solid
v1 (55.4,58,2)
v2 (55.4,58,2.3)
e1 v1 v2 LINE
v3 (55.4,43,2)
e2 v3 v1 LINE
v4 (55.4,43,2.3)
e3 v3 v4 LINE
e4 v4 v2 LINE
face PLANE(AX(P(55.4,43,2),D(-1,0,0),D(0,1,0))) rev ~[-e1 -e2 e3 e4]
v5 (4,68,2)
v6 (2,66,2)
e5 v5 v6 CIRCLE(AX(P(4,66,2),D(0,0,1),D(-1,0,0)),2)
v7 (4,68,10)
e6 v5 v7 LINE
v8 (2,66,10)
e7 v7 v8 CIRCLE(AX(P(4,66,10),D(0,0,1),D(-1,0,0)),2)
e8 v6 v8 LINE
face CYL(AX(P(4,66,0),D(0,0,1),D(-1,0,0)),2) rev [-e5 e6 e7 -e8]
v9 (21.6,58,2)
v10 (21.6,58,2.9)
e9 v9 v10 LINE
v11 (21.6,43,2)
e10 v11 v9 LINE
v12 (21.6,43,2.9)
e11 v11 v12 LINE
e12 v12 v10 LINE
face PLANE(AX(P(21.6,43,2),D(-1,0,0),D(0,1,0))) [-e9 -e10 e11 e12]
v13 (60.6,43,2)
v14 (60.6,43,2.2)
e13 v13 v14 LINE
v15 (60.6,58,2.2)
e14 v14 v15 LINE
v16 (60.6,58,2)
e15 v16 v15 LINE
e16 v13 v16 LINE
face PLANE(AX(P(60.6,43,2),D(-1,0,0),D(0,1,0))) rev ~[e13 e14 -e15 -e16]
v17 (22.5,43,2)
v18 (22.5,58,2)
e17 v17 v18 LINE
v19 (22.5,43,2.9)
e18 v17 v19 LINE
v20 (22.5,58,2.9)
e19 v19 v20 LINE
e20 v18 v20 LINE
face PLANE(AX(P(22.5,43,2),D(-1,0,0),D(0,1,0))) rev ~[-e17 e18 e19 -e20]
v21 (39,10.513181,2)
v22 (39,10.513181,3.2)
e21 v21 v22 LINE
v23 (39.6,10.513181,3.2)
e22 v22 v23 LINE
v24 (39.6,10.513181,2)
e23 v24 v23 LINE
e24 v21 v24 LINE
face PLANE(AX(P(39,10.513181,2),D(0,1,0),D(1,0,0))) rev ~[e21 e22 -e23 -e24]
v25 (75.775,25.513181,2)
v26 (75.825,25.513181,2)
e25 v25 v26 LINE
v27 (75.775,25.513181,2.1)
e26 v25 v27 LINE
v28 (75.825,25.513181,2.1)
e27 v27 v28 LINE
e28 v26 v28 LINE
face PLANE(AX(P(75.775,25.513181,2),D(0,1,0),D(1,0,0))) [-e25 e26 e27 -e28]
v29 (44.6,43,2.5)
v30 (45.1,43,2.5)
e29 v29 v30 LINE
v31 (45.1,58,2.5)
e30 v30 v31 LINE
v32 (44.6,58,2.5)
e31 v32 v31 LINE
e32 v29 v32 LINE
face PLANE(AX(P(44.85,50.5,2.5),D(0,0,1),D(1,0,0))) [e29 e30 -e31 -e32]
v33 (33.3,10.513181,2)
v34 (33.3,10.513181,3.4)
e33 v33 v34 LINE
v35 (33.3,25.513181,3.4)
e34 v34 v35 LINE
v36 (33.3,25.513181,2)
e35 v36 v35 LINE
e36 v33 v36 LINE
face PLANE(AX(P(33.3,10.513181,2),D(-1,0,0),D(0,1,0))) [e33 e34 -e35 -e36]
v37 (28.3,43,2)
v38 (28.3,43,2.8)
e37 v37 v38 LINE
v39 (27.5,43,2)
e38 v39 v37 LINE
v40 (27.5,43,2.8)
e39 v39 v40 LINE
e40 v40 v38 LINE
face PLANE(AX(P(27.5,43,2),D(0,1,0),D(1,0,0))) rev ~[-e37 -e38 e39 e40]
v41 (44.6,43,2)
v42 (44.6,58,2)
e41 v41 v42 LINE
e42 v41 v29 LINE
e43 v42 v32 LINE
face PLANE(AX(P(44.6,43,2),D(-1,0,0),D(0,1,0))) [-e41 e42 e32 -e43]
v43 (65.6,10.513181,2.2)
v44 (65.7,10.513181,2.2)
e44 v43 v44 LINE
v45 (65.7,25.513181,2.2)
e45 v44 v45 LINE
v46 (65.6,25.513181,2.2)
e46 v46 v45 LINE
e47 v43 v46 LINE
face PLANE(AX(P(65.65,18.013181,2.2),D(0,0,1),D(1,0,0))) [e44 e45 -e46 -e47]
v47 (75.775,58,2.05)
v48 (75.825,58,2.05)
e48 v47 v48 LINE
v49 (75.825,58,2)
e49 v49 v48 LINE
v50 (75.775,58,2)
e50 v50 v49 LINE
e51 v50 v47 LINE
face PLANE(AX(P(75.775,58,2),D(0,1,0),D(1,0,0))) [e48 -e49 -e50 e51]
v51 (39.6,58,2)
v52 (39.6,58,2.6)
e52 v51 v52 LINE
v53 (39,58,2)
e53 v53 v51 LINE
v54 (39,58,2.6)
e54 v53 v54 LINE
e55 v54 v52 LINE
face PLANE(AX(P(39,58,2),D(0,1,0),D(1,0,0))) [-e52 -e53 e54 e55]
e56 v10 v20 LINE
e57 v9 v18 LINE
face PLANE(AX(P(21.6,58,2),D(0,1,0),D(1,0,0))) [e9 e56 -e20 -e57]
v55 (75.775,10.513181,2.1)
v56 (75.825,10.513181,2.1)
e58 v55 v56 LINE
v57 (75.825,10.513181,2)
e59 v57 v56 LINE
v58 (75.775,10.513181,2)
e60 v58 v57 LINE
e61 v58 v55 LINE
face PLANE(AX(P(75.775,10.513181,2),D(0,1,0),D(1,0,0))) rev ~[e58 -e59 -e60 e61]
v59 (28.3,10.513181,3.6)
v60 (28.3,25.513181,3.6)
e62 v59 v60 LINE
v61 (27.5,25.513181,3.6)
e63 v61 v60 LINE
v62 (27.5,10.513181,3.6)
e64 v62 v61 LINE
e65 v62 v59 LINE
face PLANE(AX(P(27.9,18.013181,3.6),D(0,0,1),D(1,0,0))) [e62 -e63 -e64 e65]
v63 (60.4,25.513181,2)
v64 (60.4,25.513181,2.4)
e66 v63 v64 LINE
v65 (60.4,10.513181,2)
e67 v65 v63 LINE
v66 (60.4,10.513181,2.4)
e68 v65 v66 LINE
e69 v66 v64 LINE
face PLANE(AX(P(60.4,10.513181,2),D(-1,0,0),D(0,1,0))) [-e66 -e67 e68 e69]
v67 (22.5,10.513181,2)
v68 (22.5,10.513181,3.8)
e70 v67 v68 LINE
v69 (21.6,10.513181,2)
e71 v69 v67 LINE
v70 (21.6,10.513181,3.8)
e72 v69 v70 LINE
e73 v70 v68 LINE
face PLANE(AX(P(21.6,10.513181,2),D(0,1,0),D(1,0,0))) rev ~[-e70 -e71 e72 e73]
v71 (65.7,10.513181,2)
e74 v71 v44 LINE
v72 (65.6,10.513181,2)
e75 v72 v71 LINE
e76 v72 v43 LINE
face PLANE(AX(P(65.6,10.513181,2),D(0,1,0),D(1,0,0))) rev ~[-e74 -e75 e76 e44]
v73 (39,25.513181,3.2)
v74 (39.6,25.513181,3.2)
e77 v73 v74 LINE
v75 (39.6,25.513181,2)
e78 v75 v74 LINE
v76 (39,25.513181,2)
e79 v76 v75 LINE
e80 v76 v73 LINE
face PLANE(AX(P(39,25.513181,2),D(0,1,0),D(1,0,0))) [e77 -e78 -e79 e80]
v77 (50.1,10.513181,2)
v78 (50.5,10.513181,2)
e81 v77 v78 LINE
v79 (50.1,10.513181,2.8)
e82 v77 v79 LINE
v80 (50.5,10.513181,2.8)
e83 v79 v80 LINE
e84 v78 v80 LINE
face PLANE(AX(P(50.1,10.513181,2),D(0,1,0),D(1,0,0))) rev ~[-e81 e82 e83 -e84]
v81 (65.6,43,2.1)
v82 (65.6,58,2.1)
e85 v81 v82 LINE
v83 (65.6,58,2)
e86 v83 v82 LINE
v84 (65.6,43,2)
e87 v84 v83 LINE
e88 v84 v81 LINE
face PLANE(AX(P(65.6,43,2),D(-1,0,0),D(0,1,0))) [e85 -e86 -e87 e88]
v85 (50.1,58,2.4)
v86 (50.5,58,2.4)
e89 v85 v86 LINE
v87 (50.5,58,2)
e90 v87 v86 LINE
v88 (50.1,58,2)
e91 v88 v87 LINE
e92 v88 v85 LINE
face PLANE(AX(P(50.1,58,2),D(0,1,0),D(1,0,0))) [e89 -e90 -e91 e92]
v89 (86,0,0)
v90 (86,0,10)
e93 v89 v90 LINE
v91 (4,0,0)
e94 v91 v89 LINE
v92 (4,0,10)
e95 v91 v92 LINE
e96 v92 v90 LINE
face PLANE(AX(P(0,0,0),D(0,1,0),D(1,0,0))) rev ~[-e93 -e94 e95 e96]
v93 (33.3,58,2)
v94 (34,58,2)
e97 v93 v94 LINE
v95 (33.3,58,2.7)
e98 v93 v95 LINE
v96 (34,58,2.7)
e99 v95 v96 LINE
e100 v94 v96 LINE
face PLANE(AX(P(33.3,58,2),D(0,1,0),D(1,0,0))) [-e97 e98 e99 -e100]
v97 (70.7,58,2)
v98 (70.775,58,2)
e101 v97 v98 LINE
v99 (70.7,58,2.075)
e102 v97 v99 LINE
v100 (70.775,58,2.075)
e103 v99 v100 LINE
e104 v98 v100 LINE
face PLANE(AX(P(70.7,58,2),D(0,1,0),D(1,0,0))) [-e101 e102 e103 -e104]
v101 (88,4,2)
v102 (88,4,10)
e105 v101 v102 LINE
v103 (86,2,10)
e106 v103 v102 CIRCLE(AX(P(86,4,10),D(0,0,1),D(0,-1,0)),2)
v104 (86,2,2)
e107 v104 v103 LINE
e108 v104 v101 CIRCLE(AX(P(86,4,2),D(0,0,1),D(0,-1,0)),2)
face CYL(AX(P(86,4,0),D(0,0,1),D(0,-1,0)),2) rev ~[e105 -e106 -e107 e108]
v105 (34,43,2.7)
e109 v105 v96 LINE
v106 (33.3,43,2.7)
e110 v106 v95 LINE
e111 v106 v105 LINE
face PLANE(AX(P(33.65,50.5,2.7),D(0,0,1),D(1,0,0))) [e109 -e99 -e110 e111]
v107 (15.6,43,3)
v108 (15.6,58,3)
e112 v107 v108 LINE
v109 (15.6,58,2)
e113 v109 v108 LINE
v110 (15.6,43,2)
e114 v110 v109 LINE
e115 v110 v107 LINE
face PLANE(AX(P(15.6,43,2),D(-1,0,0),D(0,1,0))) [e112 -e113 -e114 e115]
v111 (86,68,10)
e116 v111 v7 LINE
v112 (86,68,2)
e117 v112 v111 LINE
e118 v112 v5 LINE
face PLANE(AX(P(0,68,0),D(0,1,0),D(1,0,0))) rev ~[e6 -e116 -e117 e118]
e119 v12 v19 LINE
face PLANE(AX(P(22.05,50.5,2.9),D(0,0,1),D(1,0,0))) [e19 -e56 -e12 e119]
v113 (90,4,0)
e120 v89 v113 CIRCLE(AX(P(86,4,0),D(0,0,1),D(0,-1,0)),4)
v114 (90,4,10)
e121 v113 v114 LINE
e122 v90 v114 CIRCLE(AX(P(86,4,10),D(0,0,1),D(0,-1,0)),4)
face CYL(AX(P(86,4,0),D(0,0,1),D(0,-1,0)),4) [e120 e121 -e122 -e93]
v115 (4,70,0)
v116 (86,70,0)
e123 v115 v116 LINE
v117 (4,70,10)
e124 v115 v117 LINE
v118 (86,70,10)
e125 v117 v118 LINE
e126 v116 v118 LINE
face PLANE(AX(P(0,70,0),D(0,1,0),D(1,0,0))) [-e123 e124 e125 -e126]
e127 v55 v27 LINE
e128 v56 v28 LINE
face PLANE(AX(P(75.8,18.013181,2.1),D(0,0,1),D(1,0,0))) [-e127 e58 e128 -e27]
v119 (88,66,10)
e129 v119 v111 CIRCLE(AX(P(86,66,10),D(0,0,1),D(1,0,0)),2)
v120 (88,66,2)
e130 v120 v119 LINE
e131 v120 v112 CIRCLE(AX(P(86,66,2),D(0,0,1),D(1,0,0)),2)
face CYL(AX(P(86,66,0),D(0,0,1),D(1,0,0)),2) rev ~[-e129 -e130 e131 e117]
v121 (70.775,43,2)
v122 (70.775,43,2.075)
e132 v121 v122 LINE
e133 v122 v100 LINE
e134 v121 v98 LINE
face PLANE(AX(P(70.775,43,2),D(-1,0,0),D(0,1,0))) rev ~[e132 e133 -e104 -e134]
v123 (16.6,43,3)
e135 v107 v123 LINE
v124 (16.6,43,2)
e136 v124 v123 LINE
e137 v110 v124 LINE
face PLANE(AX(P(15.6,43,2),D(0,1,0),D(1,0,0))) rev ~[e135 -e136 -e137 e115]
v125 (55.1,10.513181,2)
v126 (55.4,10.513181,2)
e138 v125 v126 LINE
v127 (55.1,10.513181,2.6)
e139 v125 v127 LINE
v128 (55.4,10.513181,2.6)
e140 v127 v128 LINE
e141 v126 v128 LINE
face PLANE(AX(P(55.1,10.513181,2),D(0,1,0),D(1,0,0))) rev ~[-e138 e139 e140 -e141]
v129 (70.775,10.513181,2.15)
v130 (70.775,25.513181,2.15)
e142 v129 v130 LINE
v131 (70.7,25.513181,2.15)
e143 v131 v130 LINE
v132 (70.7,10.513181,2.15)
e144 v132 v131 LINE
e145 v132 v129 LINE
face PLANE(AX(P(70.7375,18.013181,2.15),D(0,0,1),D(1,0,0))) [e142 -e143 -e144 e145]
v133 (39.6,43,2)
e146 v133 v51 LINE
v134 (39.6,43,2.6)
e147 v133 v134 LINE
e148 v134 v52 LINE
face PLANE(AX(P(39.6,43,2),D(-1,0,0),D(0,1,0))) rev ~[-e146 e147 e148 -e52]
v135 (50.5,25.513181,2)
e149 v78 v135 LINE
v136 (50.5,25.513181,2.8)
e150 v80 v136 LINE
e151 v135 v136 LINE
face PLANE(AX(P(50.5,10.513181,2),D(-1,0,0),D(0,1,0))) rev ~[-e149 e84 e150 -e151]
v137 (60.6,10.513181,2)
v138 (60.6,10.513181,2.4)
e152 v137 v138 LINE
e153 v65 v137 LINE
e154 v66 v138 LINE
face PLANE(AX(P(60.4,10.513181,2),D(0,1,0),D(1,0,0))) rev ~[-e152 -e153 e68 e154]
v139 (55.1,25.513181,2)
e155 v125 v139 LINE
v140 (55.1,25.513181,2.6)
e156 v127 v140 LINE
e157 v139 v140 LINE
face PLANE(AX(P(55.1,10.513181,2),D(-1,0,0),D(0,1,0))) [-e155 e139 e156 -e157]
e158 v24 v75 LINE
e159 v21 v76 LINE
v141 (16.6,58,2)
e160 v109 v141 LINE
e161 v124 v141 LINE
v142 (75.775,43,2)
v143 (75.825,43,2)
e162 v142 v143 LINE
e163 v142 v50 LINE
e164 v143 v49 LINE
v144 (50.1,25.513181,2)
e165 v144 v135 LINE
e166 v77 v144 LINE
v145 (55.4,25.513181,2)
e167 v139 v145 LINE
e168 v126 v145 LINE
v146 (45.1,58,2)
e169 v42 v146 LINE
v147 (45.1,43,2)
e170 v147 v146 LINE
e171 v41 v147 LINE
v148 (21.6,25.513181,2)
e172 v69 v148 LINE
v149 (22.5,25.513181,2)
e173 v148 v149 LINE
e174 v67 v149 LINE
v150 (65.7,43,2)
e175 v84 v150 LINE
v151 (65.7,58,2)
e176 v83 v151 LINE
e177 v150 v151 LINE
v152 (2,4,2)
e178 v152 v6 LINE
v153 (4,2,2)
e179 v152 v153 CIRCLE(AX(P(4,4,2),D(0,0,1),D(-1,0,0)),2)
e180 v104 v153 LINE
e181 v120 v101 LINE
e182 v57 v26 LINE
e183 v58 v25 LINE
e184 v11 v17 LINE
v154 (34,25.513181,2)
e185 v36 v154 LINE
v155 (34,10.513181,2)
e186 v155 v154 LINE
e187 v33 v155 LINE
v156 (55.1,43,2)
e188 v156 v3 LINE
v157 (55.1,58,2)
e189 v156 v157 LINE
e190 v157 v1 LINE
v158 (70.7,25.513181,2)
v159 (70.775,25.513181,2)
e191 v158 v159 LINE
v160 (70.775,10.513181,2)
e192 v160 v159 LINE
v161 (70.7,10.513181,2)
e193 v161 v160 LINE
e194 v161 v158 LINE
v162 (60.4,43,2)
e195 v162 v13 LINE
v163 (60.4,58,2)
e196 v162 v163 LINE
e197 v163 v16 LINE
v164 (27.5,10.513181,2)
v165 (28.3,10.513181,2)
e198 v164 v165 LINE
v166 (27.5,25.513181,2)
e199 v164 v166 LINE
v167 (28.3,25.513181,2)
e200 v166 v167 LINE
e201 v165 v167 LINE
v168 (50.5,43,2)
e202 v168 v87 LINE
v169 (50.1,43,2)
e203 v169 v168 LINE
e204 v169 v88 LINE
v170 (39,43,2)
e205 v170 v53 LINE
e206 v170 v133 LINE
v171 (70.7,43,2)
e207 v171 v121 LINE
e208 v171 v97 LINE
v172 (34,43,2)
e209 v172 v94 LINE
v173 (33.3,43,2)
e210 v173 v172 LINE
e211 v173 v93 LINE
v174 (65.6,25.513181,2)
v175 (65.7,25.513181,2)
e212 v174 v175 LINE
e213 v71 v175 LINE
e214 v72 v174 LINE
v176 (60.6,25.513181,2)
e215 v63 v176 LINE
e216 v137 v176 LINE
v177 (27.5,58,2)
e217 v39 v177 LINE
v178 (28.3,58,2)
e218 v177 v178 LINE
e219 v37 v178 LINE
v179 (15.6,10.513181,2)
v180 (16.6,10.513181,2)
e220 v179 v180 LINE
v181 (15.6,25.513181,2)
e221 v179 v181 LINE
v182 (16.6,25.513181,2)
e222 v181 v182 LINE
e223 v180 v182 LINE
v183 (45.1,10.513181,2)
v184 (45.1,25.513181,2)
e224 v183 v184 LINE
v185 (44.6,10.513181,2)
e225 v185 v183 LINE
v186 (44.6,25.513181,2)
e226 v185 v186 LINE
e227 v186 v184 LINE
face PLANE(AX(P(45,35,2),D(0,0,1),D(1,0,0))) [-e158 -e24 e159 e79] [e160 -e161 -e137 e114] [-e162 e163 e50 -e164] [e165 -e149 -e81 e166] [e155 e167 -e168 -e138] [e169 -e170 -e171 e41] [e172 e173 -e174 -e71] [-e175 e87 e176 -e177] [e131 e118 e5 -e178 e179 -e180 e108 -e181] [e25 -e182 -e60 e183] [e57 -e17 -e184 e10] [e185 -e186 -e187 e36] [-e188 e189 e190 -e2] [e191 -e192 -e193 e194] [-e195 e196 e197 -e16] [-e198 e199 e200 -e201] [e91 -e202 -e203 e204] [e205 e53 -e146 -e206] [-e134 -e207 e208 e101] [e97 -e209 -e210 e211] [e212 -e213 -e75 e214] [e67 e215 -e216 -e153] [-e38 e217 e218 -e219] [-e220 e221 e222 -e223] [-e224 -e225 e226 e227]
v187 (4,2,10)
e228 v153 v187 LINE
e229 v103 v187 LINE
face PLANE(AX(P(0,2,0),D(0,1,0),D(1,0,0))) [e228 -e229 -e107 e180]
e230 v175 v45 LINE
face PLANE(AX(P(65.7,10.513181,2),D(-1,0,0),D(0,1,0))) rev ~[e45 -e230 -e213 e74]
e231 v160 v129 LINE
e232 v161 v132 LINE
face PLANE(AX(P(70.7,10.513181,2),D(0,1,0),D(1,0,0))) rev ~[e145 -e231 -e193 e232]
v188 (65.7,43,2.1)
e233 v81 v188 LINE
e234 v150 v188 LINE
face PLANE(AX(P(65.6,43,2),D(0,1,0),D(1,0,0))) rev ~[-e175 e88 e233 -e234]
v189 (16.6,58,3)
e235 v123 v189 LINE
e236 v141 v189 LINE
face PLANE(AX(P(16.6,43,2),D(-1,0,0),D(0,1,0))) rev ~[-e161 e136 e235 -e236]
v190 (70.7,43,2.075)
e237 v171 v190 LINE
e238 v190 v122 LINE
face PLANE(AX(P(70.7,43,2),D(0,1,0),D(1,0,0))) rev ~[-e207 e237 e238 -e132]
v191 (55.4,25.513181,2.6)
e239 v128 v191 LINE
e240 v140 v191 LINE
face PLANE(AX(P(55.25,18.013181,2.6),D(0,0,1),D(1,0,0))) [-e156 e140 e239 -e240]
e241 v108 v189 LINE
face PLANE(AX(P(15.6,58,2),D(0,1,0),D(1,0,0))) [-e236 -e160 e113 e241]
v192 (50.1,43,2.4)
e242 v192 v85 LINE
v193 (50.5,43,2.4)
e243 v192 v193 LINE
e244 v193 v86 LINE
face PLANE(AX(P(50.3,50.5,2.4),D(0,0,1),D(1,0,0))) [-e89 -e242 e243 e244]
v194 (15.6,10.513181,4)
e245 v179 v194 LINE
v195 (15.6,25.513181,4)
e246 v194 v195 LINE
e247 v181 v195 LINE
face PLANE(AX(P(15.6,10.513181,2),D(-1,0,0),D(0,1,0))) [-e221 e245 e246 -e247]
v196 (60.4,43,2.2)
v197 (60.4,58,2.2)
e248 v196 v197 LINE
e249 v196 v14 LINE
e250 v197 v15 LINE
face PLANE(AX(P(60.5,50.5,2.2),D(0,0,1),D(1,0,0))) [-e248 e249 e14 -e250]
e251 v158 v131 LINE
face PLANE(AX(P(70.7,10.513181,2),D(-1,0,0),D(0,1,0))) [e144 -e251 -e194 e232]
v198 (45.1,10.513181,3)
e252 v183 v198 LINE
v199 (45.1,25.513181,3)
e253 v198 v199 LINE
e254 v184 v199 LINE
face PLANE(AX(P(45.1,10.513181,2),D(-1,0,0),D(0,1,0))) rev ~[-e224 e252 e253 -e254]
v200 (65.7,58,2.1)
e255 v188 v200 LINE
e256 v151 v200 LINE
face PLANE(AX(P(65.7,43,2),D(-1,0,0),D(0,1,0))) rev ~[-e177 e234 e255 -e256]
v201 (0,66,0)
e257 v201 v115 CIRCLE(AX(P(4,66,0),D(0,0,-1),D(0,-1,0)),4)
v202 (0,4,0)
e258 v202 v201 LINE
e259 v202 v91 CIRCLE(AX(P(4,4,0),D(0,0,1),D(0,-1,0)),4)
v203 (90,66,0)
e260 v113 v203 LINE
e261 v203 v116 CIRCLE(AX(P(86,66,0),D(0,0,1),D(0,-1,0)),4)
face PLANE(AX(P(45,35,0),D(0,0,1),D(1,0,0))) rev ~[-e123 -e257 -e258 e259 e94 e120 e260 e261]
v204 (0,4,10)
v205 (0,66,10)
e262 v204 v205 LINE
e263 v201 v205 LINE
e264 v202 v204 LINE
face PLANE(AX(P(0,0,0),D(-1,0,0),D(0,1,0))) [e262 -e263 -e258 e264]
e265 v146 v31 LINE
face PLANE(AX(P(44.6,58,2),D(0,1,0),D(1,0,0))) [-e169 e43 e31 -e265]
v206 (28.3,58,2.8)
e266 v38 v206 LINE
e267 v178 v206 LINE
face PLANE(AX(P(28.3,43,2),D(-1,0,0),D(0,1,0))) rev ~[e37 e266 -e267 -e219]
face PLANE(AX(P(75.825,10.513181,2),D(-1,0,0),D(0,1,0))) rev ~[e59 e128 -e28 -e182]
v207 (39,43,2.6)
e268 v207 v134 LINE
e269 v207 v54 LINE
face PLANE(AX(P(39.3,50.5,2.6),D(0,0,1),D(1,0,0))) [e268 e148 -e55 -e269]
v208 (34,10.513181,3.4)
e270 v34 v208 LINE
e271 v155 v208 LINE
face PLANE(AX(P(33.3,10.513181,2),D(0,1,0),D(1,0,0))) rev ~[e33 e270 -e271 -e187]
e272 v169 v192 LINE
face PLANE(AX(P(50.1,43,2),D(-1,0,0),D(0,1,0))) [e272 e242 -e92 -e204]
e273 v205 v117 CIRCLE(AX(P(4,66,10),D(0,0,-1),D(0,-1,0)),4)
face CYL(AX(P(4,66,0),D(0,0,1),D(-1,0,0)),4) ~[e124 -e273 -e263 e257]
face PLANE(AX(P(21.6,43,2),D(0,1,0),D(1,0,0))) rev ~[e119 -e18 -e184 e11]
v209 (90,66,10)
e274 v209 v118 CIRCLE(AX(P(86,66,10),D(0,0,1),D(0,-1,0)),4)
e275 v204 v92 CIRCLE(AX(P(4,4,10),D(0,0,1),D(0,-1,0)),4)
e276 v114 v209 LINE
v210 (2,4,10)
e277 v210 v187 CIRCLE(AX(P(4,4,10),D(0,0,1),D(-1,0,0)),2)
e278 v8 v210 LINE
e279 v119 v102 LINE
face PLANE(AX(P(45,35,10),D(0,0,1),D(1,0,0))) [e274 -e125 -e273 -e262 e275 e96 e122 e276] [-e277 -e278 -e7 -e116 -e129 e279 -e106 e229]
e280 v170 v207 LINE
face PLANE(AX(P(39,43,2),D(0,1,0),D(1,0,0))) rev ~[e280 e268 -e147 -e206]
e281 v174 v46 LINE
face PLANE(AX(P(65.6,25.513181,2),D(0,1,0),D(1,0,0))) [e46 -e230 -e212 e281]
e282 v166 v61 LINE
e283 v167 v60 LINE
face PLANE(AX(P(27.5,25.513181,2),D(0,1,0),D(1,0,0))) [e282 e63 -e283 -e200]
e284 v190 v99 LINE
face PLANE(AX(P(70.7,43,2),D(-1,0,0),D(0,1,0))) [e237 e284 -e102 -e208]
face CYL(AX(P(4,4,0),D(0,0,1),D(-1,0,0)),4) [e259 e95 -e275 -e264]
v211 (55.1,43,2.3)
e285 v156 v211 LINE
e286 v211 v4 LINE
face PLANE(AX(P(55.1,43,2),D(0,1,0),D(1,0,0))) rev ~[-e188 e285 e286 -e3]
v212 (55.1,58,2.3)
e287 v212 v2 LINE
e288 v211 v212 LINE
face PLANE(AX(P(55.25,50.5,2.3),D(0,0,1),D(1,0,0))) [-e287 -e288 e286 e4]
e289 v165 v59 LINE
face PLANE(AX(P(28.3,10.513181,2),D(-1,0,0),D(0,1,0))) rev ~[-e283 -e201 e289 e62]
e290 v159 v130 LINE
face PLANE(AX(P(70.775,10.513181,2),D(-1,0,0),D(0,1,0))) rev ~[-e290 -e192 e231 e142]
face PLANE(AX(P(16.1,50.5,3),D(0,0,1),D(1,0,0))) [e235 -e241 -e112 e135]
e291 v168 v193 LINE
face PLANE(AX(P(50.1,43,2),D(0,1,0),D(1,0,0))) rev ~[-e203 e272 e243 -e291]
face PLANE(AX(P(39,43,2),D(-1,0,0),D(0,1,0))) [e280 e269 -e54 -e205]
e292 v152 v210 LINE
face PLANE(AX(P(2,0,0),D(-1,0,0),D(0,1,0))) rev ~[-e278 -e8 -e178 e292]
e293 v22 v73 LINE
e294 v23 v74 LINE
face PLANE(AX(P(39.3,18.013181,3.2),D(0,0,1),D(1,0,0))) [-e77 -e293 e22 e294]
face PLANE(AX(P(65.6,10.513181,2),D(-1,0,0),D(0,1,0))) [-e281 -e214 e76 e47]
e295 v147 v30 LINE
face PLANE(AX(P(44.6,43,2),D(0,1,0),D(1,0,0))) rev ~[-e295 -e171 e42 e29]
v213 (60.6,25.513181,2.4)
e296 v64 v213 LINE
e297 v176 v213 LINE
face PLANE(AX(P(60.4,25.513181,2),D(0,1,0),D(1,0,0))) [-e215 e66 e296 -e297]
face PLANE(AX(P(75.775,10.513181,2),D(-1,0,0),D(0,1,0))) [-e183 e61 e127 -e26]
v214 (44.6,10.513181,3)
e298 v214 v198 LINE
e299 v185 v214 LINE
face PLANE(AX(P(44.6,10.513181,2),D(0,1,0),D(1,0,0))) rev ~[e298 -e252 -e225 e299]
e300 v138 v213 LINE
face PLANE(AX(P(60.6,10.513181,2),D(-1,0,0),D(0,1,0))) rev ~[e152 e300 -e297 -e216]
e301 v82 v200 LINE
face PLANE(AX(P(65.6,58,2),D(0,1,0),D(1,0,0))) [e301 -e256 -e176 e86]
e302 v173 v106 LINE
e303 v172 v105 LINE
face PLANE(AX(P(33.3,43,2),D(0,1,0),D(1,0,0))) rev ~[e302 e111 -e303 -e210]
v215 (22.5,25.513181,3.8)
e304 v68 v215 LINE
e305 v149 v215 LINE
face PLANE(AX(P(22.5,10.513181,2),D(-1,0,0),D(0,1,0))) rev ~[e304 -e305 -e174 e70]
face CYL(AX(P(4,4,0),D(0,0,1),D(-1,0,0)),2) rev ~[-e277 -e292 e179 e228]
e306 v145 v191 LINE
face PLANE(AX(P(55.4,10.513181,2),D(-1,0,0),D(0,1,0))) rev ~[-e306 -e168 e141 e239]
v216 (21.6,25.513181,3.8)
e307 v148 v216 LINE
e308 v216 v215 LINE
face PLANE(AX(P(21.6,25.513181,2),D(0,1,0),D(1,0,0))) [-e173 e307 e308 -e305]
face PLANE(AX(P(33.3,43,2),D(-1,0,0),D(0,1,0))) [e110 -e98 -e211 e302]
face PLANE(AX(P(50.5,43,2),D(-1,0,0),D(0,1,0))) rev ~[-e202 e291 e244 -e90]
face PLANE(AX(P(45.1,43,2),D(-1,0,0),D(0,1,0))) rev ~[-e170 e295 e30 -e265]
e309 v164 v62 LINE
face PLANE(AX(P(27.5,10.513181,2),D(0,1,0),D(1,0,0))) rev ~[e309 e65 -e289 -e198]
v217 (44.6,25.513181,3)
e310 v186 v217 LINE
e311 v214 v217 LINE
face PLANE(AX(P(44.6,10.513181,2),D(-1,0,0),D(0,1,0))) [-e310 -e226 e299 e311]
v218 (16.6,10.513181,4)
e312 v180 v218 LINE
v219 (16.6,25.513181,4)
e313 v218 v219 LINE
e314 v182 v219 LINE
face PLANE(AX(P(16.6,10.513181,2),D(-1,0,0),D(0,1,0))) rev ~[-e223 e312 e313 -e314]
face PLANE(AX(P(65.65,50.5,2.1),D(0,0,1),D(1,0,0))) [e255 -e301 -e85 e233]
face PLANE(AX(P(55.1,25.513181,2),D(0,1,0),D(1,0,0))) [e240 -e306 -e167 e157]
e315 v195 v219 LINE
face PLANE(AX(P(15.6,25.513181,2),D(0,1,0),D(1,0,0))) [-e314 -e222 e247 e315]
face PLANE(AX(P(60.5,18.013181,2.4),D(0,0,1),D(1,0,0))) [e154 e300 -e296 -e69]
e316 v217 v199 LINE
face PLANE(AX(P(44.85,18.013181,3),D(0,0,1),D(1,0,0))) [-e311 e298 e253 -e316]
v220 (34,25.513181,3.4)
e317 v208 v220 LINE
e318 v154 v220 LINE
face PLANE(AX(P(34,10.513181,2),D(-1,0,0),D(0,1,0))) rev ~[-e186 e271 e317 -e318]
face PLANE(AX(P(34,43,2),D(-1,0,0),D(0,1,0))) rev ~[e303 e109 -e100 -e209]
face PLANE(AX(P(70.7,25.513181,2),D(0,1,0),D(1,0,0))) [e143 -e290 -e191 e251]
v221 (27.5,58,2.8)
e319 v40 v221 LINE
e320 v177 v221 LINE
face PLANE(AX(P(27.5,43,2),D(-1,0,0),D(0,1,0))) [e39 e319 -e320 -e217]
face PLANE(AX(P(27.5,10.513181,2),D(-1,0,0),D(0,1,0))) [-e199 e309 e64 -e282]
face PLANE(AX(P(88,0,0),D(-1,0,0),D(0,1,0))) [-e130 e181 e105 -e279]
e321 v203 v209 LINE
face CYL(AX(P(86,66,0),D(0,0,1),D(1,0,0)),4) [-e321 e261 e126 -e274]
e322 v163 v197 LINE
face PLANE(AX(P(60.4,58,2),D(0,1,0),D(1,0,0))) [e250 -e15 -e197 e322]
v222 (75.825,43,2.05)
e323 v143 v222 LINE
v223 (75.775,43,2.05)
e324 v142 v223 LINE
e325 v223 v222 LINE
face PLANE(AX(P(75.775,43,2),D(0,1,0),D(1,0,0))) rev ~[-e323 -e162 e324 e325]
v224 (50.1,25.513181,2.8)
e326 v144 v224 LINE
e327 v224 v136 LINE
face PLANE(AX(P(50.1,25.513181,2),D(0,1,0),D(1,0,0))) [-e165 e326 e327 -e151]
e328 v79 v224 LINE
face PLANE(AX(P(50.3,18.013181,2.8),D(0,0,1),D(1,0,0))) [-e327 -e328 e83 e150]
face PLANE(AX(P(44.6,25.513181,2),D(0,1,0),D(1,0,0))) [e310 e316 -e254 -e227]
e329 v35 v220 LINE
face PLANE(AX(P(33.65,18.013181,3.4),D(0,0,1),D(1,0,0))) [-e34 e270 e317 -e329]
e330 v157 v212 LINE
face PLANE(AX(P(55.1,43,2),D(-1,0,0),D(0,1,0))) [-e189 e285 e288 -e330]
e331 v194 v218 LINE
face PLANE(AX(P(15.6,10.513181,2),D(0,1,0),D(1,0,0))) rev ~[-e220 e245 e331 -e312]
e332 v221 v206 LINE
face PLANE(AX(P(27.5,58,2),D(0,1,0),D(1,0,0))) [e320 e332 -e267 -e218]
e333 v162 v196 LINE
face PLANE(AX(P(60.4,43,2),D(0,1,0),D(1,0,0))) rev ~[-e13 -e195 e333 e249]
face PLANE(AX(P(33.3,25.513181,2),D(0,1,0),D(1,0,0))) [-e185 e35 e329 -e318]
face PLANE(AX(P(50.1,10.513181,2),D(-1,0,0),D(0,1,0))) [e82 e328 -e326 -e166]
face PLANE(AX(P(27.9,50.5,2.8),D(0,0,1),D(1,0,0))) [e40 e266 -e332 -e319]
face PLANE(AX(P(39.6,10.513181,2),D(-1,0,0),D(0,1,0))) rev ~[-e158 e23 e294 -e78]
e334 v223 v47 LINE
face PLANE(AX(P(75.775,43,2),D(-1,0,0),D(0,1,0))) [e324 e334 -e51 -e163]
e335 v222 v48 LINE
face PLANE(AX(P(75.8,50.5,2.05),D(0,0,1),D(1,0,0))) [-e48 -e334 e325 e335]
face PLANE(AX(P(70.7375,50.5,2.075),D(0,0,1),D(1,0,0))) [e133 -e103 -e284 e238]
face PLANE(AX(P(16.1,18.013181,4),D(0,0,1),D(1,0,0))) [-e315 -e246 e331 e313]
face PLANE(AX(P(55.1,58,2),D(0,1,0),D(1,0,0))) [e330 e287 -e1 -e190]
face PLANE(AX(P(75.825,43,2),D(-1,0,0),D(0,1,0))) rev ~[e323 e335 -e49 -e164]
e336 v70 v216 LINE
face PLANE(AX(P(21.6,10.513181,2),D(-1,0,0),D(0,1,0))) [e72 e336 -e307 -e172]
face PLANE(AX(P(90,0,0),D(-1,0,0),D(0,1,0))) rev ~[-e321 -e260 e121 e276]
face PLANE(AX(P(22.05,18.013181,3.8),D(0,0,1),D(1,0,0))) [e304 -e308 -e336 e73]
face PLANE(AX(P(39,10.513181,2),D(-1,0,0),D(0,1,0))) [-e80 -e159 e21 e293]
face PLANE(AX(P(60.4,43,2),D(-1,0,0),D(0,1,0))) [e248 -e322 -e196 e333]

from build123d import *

# Parameters (mm, degrees)
SKETCH1_W            = 90
SKETCH1_H            = 70
BOSS_EXTRUDE1_DEPTH  = 10
FILLET1_R            = 4
SHELL1_T             = -2
SKETCH2_W            = 1
SKETCH2_H            = 15
BOSS_EXTRUDE2_DEPTH  = 1
SKETCH3_W            = 0.9
SKETCH3_H            = 15
BOSS_EXTRUDE3_DEPTH  = 0.9
SKETCH4_W            = 0.8
SKETCH4_H            = 15
BOSS_EXTRUDE4_DEPTH  = 0.8
SKETCH5_W            = 0.7
SKETCH5_H            = 15
BOSS_EXTRUDE5_DEPTH  = 0.7
SKETCH6_W            = 0.6
SKETCH6_H            = 15
BOSS_EXTRUDE6_DEPTH  = 0.6
SKETCH7_W            = 0.5
SKETCH7_H            = 15
BOSS_EXTRUDE7_DEPTH  = 0.5
SKETCH8_W            = 0.4
SKETCH8_H            = 15
BOSS_EXTRUDE8_DEPTH  = 0.4
SKETCH9_W            = 0.3
SKETCH9_H            = 15
BOSS_EXTRUDE9_DEPTH  = 0.3
SKETCH10_W           = 0.2
SKETCH10_H           = 15
BOSS_EXTRUDE10_DEPTH = 0.2
SKETCH11_W           = 0.1
SKETCH11_H           = 15
BOSS_EXTRUDE11_DEPTH = 0.1
SKETCH12_W           = 0.075
SKETCH12_H           = 15
BOSS_EXTRUDE12_DEPTH = 0.075
SKETCH14_W           = 0.05
SKETCH14_H           = 15
BOSS_EXTRUDE13_DEPTH = 0.05
SKETCH15_W           = 1
SKETCH15_H           = 15
BOSS_EXTRUDE14_DEPTH = 2
SKETCH17_W           = 0.9
SKETCH17_H           = 15
BOSS_EXTRUDE15_DEPTH = 1.8
SKETCH18_W           = 0.8
SKETCH18_H           = 15
BOSS_EXTRUDE16_DEPTH = 1.6
SKETCH19_W           = 0.7
SKETCH19_H           = 15
BOSS_EXTRUDE17_DEPTH = 1.4
SKETCH20_W           = 0.6
SKETCH20_H           = 15
BOSS_EXTRUDE18_DEPTH = 1.2
SKETCH21_W           = 0.5
SKETCH21_H           = 15
BOSS_EXTRUDE19_DEPTH = 1
SKETCH22_W           = 0.4
SKETCH22_H           = 15
BOSS_EXTRUDE20_DEPTH = 0.8
SKETCH23_W           = 0.3
SKETCH23_H           = 15
BOSS_EXTRUDE21_DEPTH = 0.6
SKETCH24_W           = 0.2
SKETCH24_H           = 15
BOSS_EXTRUDE22_DEPTH = 0.4
SKETCH25_W           = 0.1
SKETCH25_H           = 15
BOSS_EXTRUDE23_DEPTH = 0.2
SKETCH27_W           = 0.075
SKETCH27_H           = 15
BOSS_EXTRUDE24_DEPTH = 0.15
SKETCH28_W           = 0.05
SKETCH28_H           = 15
BOSS_EXTRUDE25_DEPTH = 0.1


with BuildPart() as part:
    # Sketch1 → Boss-Extrude1 (new body)
    with BuildSketch(Plane.XY):
        with Locations((45, 35)):
            Rectangle(SKETCH1_W, SKETCH1_H)
    extrude(amount=BOSS_EXTRUDE1_DEPTH)

    # Fillet1
    fillet1_edges = [part.edges().sort_by_distance(p)[0] for p in [
        (0, 70, 5),
        (90, 70, 5),
        (90, 0, 5),
        (0, 0, 5),
    ]]
    fillet(fillet1_edges, radius=FILLET1_R)

    # Shell1
    shell1_openings = [part.faces().sort_by_distance(p)[0] for p in [
        (45, 35, 10),
    ]]
    offset(amount=SHELL1_T, openings=shell1_openings, kind=Kind.INTERSECTION)

    # Sketch2 → Boss-Extrude2 (add)
    with BuildSketch(Plane.XY.offset(2)):
        with Locations((16.1, 50.5)):
            Rectangle(SKETCH2_W, SKETCH2_H)
    extrude(amount=BOSS_EXTRUDE2_DEPTH)

    # Sketch3 → Boss-Extrude3 (add)
    with BuildSketch(Plane.XY.offset(2)):
        with Locations((22.05, 50.5)):
            Rectangle(SKETCH3_W, SKETCH3_H)
    extrude(amount=BOSS_EXTRUDE3_DEPTH)

    # Sketch4 → Boss-Extrude4 (add)
    with BuildSketch(Plane.XY.offset(2)):
        with Locations((27.9, 50.5)):
            Rectangle(SKETCH4_W, SKETCH4_H)
    extrude(amount=BOSS_EXTRUDE4_DEPTH)

    # Sketch5 → Boss-Extrude5 (add)
    with BuildSketch(Plane.XY.offset(2)):
        with Locations((33.65, 50.5)):
            Rectangle(SKETCH5_W, SKETCH5_H)
    extrude(amount=BOSS_EXTRUDE5_DEPTH)

    # Sketch6 → Boss-Extrude6 (add)
    with BuildSketch(Plane.XY.offset(2)):
        with Locations((39.3, 50.5)):
            Rectangle(SKETCH6_W, SKETCH6_H)
    extrude(amount=BOSS_EXTRUDE6_DEPTH)

    # Sketch7 → Boss-Extrude7 (add)
    with BuildSketch(Plane.XY.offset(2)):
        with Locations((44.85, 50.5)):
            Rectangle(SKETCH7_W, SKETCH7_H)
    extrude(amount=BOSS_EXTRUDE7_DEPTH)

    # Sketch8 → Boss-Extrude8 (add)
    with BuildSketch(Plane.XY.offset(2)):
        with Locations((50.3, 50.5)):
            Rectangle(SKETCH8_W, SKETCH8_H)
    extrude(amount=BOSS_EXTRUDE8_DEPTH)

    # Sketch9 → Boss-Extrude9 (add)
    with BuildSketch(Plane.XY.offset(2)):
        with Locations((55.25, 50.5)):
            Rectangle(SKETCH9_W, SKETCH9_H)
    extrude(amount=BOSS_EXTRUDE9_DEPTH)

    # Sketch10 → Boss-Extrude10 (add)
    with BuildSketch(Plane.XY.offset(2)):
        with Locations((60.5, 50.5)):
            Rectangle(SKETCH10_W, SKETCH10_H)
    extrude(amount=BOSS_EXTRUDE10_DEPTH)

    # Sketch11 → Boss-Extrude11 (add)
    with BuildSketch(Plane.XY.offset(2)):
        with Locations((65.65, 50.5)):
            Rectangle(SKETCH11_W, SKETCH11_H)
    extrude(amount=BOSS_EXTRUDE11_DEPTH)

    # Sketch12 → Boss-Extrude12 (add)
    with BuildSketch(Plane.XY.offset(2)):
        with Locations((70.7375, 50.5)):
            Rectangle(SKETCH12_W, SKETCH12_H)
    extrude(amount=BOSS_EXTRUDE12_DEPTH)

    # Sketch14 → Boss-Extrude13 (add)
    with BuildSketch(Plane.XY.offset(2)):
        with Locations((75.8, 50.5)):
            Rectangle(SKETCH14_W, SKETCH14_H)
    extrude(amount=BOSS_EXTRUDE13_DEPTH)

    # Sketch15 → Boss-Extrude14 (add)
    with BuildSketch(Plane.XY.offset(2)):
        with Locations((16.1, 18.013180638)):
            Rectangle(SKETCH15_W, SKETCH15_H)
    extrude(amount=BOSS_EXTRUDE14_DEPTH)

    # Sketch17 → Boss-Extrude15 (add)
    with BuildSketch(Plane.XY.offset(2)):
        with Locations((22.05, 18.013180638)):
            Rectangle(SKETCH17_W, SKETCH17_H)
    extrude(amount=BOSS_EXTRUDE15_DEPTH)

    # Sketch18 → Boss-Extrude16 (add)
    with BuildSketch(Plane.XY.offset(2)):
        with Locations((27.9, 18.013180638)):
            Rectangle(SKETCH18_W, SKETCH18_H)
    extrude(amount=BOSS_EXTRUDE16_DEPTH)

    # Sketch19 → Boss-Extrude17 (add)
    with BuildSketch(Plane.XY.offset(2)):
        with Locations((33.65, 18.013180638)):
            Rectangle(SKETCH19_W, SKETCH19_H)
    extrude(amount=BOSS_EXTRUDE17_DEPTH)

    # Sketch20 → Boss-Extrude18 (add)
    with BuildSketch(Plane.XY.offset(2)):
        with Locations((39.3, 18.013180638)):
            Rectangle(SKETCH20_W, SKETCH20_H)
    extrude(amount=BOSS_EXTRUDE18_DEPTH)

    # Sketch21 → Boss-Extrude19 (add)
    with BuildSketch(Plane.XY.offset(2)):
        with Locations((44.85, 18.013180638)):
            Rectangle(SKETCH21_W, SKETCH21_H)
    extrude(amount=BOSS_EXTRUDE19_DEPTH)

    # Sketch22 → Boss-Extrude20 (add)
    with BuildSketch(Plane.XY.offset(2)):
        with Locations((50.3, 18.013180638)):
            Rectangle(SKETCH22_W, SKETCH22_H)
    extrude(amount=BOSS_EXTRUDE20_DEPTH)

    # Sketch23 → Boss-Extrude21 (add)
    with BuildSketch(Plane.XY.offset(2)):
        with Locations((55.25, 18.013180638)):
            Rectangle(SKETCH23_W, SKETCH23_H)
    extrude(amount=BOSS_EXTRUDE21_DEPTH)

    # Sketch24 → Boss-Extrude22 (add)
    with BuildSketch(Plane.XY.offset(2)):
        with Locations((60.5, 18.013180638)):
            Rectangle(SKETCH24_W, SKETCH24_H)
    extrude(amount=BOSS_EXTRUDE22_DEPTH)

    # Sketch25 → Boss-Extrude23 (add)
    with BuildSketch(Plane.XY.offset(2)):
        with Locations((65.65, 18.013180638)):
            Rectangle(SKETCH25_W, SKETCH25_H)
    extrude(amount=BOSS_EXTRUDE23_DEPTH)

    # Sketch27 → Boss-Extrude24 (add)
    with BuildSketch(Plane.XY.offset(2)):
        with Locations((70.7375, 18.013180638)):
            Rectangle(SKETCH27_W, SKETCH27_H)
    extrude(amount=BOSS_EXTRUDE24_DEPTH)

    # Sketch28 → Boss-Extrude25 (add)
    with BuildSketch(Plane.XY.offset(2)):
        with Locations((75.8, 18.013180638)):
            Rectangle(SKETCH28_W, SKETCH28_H)
    extrude(amount=BOSS_EXTRUDE25_DEPTH)


solid = part.part
